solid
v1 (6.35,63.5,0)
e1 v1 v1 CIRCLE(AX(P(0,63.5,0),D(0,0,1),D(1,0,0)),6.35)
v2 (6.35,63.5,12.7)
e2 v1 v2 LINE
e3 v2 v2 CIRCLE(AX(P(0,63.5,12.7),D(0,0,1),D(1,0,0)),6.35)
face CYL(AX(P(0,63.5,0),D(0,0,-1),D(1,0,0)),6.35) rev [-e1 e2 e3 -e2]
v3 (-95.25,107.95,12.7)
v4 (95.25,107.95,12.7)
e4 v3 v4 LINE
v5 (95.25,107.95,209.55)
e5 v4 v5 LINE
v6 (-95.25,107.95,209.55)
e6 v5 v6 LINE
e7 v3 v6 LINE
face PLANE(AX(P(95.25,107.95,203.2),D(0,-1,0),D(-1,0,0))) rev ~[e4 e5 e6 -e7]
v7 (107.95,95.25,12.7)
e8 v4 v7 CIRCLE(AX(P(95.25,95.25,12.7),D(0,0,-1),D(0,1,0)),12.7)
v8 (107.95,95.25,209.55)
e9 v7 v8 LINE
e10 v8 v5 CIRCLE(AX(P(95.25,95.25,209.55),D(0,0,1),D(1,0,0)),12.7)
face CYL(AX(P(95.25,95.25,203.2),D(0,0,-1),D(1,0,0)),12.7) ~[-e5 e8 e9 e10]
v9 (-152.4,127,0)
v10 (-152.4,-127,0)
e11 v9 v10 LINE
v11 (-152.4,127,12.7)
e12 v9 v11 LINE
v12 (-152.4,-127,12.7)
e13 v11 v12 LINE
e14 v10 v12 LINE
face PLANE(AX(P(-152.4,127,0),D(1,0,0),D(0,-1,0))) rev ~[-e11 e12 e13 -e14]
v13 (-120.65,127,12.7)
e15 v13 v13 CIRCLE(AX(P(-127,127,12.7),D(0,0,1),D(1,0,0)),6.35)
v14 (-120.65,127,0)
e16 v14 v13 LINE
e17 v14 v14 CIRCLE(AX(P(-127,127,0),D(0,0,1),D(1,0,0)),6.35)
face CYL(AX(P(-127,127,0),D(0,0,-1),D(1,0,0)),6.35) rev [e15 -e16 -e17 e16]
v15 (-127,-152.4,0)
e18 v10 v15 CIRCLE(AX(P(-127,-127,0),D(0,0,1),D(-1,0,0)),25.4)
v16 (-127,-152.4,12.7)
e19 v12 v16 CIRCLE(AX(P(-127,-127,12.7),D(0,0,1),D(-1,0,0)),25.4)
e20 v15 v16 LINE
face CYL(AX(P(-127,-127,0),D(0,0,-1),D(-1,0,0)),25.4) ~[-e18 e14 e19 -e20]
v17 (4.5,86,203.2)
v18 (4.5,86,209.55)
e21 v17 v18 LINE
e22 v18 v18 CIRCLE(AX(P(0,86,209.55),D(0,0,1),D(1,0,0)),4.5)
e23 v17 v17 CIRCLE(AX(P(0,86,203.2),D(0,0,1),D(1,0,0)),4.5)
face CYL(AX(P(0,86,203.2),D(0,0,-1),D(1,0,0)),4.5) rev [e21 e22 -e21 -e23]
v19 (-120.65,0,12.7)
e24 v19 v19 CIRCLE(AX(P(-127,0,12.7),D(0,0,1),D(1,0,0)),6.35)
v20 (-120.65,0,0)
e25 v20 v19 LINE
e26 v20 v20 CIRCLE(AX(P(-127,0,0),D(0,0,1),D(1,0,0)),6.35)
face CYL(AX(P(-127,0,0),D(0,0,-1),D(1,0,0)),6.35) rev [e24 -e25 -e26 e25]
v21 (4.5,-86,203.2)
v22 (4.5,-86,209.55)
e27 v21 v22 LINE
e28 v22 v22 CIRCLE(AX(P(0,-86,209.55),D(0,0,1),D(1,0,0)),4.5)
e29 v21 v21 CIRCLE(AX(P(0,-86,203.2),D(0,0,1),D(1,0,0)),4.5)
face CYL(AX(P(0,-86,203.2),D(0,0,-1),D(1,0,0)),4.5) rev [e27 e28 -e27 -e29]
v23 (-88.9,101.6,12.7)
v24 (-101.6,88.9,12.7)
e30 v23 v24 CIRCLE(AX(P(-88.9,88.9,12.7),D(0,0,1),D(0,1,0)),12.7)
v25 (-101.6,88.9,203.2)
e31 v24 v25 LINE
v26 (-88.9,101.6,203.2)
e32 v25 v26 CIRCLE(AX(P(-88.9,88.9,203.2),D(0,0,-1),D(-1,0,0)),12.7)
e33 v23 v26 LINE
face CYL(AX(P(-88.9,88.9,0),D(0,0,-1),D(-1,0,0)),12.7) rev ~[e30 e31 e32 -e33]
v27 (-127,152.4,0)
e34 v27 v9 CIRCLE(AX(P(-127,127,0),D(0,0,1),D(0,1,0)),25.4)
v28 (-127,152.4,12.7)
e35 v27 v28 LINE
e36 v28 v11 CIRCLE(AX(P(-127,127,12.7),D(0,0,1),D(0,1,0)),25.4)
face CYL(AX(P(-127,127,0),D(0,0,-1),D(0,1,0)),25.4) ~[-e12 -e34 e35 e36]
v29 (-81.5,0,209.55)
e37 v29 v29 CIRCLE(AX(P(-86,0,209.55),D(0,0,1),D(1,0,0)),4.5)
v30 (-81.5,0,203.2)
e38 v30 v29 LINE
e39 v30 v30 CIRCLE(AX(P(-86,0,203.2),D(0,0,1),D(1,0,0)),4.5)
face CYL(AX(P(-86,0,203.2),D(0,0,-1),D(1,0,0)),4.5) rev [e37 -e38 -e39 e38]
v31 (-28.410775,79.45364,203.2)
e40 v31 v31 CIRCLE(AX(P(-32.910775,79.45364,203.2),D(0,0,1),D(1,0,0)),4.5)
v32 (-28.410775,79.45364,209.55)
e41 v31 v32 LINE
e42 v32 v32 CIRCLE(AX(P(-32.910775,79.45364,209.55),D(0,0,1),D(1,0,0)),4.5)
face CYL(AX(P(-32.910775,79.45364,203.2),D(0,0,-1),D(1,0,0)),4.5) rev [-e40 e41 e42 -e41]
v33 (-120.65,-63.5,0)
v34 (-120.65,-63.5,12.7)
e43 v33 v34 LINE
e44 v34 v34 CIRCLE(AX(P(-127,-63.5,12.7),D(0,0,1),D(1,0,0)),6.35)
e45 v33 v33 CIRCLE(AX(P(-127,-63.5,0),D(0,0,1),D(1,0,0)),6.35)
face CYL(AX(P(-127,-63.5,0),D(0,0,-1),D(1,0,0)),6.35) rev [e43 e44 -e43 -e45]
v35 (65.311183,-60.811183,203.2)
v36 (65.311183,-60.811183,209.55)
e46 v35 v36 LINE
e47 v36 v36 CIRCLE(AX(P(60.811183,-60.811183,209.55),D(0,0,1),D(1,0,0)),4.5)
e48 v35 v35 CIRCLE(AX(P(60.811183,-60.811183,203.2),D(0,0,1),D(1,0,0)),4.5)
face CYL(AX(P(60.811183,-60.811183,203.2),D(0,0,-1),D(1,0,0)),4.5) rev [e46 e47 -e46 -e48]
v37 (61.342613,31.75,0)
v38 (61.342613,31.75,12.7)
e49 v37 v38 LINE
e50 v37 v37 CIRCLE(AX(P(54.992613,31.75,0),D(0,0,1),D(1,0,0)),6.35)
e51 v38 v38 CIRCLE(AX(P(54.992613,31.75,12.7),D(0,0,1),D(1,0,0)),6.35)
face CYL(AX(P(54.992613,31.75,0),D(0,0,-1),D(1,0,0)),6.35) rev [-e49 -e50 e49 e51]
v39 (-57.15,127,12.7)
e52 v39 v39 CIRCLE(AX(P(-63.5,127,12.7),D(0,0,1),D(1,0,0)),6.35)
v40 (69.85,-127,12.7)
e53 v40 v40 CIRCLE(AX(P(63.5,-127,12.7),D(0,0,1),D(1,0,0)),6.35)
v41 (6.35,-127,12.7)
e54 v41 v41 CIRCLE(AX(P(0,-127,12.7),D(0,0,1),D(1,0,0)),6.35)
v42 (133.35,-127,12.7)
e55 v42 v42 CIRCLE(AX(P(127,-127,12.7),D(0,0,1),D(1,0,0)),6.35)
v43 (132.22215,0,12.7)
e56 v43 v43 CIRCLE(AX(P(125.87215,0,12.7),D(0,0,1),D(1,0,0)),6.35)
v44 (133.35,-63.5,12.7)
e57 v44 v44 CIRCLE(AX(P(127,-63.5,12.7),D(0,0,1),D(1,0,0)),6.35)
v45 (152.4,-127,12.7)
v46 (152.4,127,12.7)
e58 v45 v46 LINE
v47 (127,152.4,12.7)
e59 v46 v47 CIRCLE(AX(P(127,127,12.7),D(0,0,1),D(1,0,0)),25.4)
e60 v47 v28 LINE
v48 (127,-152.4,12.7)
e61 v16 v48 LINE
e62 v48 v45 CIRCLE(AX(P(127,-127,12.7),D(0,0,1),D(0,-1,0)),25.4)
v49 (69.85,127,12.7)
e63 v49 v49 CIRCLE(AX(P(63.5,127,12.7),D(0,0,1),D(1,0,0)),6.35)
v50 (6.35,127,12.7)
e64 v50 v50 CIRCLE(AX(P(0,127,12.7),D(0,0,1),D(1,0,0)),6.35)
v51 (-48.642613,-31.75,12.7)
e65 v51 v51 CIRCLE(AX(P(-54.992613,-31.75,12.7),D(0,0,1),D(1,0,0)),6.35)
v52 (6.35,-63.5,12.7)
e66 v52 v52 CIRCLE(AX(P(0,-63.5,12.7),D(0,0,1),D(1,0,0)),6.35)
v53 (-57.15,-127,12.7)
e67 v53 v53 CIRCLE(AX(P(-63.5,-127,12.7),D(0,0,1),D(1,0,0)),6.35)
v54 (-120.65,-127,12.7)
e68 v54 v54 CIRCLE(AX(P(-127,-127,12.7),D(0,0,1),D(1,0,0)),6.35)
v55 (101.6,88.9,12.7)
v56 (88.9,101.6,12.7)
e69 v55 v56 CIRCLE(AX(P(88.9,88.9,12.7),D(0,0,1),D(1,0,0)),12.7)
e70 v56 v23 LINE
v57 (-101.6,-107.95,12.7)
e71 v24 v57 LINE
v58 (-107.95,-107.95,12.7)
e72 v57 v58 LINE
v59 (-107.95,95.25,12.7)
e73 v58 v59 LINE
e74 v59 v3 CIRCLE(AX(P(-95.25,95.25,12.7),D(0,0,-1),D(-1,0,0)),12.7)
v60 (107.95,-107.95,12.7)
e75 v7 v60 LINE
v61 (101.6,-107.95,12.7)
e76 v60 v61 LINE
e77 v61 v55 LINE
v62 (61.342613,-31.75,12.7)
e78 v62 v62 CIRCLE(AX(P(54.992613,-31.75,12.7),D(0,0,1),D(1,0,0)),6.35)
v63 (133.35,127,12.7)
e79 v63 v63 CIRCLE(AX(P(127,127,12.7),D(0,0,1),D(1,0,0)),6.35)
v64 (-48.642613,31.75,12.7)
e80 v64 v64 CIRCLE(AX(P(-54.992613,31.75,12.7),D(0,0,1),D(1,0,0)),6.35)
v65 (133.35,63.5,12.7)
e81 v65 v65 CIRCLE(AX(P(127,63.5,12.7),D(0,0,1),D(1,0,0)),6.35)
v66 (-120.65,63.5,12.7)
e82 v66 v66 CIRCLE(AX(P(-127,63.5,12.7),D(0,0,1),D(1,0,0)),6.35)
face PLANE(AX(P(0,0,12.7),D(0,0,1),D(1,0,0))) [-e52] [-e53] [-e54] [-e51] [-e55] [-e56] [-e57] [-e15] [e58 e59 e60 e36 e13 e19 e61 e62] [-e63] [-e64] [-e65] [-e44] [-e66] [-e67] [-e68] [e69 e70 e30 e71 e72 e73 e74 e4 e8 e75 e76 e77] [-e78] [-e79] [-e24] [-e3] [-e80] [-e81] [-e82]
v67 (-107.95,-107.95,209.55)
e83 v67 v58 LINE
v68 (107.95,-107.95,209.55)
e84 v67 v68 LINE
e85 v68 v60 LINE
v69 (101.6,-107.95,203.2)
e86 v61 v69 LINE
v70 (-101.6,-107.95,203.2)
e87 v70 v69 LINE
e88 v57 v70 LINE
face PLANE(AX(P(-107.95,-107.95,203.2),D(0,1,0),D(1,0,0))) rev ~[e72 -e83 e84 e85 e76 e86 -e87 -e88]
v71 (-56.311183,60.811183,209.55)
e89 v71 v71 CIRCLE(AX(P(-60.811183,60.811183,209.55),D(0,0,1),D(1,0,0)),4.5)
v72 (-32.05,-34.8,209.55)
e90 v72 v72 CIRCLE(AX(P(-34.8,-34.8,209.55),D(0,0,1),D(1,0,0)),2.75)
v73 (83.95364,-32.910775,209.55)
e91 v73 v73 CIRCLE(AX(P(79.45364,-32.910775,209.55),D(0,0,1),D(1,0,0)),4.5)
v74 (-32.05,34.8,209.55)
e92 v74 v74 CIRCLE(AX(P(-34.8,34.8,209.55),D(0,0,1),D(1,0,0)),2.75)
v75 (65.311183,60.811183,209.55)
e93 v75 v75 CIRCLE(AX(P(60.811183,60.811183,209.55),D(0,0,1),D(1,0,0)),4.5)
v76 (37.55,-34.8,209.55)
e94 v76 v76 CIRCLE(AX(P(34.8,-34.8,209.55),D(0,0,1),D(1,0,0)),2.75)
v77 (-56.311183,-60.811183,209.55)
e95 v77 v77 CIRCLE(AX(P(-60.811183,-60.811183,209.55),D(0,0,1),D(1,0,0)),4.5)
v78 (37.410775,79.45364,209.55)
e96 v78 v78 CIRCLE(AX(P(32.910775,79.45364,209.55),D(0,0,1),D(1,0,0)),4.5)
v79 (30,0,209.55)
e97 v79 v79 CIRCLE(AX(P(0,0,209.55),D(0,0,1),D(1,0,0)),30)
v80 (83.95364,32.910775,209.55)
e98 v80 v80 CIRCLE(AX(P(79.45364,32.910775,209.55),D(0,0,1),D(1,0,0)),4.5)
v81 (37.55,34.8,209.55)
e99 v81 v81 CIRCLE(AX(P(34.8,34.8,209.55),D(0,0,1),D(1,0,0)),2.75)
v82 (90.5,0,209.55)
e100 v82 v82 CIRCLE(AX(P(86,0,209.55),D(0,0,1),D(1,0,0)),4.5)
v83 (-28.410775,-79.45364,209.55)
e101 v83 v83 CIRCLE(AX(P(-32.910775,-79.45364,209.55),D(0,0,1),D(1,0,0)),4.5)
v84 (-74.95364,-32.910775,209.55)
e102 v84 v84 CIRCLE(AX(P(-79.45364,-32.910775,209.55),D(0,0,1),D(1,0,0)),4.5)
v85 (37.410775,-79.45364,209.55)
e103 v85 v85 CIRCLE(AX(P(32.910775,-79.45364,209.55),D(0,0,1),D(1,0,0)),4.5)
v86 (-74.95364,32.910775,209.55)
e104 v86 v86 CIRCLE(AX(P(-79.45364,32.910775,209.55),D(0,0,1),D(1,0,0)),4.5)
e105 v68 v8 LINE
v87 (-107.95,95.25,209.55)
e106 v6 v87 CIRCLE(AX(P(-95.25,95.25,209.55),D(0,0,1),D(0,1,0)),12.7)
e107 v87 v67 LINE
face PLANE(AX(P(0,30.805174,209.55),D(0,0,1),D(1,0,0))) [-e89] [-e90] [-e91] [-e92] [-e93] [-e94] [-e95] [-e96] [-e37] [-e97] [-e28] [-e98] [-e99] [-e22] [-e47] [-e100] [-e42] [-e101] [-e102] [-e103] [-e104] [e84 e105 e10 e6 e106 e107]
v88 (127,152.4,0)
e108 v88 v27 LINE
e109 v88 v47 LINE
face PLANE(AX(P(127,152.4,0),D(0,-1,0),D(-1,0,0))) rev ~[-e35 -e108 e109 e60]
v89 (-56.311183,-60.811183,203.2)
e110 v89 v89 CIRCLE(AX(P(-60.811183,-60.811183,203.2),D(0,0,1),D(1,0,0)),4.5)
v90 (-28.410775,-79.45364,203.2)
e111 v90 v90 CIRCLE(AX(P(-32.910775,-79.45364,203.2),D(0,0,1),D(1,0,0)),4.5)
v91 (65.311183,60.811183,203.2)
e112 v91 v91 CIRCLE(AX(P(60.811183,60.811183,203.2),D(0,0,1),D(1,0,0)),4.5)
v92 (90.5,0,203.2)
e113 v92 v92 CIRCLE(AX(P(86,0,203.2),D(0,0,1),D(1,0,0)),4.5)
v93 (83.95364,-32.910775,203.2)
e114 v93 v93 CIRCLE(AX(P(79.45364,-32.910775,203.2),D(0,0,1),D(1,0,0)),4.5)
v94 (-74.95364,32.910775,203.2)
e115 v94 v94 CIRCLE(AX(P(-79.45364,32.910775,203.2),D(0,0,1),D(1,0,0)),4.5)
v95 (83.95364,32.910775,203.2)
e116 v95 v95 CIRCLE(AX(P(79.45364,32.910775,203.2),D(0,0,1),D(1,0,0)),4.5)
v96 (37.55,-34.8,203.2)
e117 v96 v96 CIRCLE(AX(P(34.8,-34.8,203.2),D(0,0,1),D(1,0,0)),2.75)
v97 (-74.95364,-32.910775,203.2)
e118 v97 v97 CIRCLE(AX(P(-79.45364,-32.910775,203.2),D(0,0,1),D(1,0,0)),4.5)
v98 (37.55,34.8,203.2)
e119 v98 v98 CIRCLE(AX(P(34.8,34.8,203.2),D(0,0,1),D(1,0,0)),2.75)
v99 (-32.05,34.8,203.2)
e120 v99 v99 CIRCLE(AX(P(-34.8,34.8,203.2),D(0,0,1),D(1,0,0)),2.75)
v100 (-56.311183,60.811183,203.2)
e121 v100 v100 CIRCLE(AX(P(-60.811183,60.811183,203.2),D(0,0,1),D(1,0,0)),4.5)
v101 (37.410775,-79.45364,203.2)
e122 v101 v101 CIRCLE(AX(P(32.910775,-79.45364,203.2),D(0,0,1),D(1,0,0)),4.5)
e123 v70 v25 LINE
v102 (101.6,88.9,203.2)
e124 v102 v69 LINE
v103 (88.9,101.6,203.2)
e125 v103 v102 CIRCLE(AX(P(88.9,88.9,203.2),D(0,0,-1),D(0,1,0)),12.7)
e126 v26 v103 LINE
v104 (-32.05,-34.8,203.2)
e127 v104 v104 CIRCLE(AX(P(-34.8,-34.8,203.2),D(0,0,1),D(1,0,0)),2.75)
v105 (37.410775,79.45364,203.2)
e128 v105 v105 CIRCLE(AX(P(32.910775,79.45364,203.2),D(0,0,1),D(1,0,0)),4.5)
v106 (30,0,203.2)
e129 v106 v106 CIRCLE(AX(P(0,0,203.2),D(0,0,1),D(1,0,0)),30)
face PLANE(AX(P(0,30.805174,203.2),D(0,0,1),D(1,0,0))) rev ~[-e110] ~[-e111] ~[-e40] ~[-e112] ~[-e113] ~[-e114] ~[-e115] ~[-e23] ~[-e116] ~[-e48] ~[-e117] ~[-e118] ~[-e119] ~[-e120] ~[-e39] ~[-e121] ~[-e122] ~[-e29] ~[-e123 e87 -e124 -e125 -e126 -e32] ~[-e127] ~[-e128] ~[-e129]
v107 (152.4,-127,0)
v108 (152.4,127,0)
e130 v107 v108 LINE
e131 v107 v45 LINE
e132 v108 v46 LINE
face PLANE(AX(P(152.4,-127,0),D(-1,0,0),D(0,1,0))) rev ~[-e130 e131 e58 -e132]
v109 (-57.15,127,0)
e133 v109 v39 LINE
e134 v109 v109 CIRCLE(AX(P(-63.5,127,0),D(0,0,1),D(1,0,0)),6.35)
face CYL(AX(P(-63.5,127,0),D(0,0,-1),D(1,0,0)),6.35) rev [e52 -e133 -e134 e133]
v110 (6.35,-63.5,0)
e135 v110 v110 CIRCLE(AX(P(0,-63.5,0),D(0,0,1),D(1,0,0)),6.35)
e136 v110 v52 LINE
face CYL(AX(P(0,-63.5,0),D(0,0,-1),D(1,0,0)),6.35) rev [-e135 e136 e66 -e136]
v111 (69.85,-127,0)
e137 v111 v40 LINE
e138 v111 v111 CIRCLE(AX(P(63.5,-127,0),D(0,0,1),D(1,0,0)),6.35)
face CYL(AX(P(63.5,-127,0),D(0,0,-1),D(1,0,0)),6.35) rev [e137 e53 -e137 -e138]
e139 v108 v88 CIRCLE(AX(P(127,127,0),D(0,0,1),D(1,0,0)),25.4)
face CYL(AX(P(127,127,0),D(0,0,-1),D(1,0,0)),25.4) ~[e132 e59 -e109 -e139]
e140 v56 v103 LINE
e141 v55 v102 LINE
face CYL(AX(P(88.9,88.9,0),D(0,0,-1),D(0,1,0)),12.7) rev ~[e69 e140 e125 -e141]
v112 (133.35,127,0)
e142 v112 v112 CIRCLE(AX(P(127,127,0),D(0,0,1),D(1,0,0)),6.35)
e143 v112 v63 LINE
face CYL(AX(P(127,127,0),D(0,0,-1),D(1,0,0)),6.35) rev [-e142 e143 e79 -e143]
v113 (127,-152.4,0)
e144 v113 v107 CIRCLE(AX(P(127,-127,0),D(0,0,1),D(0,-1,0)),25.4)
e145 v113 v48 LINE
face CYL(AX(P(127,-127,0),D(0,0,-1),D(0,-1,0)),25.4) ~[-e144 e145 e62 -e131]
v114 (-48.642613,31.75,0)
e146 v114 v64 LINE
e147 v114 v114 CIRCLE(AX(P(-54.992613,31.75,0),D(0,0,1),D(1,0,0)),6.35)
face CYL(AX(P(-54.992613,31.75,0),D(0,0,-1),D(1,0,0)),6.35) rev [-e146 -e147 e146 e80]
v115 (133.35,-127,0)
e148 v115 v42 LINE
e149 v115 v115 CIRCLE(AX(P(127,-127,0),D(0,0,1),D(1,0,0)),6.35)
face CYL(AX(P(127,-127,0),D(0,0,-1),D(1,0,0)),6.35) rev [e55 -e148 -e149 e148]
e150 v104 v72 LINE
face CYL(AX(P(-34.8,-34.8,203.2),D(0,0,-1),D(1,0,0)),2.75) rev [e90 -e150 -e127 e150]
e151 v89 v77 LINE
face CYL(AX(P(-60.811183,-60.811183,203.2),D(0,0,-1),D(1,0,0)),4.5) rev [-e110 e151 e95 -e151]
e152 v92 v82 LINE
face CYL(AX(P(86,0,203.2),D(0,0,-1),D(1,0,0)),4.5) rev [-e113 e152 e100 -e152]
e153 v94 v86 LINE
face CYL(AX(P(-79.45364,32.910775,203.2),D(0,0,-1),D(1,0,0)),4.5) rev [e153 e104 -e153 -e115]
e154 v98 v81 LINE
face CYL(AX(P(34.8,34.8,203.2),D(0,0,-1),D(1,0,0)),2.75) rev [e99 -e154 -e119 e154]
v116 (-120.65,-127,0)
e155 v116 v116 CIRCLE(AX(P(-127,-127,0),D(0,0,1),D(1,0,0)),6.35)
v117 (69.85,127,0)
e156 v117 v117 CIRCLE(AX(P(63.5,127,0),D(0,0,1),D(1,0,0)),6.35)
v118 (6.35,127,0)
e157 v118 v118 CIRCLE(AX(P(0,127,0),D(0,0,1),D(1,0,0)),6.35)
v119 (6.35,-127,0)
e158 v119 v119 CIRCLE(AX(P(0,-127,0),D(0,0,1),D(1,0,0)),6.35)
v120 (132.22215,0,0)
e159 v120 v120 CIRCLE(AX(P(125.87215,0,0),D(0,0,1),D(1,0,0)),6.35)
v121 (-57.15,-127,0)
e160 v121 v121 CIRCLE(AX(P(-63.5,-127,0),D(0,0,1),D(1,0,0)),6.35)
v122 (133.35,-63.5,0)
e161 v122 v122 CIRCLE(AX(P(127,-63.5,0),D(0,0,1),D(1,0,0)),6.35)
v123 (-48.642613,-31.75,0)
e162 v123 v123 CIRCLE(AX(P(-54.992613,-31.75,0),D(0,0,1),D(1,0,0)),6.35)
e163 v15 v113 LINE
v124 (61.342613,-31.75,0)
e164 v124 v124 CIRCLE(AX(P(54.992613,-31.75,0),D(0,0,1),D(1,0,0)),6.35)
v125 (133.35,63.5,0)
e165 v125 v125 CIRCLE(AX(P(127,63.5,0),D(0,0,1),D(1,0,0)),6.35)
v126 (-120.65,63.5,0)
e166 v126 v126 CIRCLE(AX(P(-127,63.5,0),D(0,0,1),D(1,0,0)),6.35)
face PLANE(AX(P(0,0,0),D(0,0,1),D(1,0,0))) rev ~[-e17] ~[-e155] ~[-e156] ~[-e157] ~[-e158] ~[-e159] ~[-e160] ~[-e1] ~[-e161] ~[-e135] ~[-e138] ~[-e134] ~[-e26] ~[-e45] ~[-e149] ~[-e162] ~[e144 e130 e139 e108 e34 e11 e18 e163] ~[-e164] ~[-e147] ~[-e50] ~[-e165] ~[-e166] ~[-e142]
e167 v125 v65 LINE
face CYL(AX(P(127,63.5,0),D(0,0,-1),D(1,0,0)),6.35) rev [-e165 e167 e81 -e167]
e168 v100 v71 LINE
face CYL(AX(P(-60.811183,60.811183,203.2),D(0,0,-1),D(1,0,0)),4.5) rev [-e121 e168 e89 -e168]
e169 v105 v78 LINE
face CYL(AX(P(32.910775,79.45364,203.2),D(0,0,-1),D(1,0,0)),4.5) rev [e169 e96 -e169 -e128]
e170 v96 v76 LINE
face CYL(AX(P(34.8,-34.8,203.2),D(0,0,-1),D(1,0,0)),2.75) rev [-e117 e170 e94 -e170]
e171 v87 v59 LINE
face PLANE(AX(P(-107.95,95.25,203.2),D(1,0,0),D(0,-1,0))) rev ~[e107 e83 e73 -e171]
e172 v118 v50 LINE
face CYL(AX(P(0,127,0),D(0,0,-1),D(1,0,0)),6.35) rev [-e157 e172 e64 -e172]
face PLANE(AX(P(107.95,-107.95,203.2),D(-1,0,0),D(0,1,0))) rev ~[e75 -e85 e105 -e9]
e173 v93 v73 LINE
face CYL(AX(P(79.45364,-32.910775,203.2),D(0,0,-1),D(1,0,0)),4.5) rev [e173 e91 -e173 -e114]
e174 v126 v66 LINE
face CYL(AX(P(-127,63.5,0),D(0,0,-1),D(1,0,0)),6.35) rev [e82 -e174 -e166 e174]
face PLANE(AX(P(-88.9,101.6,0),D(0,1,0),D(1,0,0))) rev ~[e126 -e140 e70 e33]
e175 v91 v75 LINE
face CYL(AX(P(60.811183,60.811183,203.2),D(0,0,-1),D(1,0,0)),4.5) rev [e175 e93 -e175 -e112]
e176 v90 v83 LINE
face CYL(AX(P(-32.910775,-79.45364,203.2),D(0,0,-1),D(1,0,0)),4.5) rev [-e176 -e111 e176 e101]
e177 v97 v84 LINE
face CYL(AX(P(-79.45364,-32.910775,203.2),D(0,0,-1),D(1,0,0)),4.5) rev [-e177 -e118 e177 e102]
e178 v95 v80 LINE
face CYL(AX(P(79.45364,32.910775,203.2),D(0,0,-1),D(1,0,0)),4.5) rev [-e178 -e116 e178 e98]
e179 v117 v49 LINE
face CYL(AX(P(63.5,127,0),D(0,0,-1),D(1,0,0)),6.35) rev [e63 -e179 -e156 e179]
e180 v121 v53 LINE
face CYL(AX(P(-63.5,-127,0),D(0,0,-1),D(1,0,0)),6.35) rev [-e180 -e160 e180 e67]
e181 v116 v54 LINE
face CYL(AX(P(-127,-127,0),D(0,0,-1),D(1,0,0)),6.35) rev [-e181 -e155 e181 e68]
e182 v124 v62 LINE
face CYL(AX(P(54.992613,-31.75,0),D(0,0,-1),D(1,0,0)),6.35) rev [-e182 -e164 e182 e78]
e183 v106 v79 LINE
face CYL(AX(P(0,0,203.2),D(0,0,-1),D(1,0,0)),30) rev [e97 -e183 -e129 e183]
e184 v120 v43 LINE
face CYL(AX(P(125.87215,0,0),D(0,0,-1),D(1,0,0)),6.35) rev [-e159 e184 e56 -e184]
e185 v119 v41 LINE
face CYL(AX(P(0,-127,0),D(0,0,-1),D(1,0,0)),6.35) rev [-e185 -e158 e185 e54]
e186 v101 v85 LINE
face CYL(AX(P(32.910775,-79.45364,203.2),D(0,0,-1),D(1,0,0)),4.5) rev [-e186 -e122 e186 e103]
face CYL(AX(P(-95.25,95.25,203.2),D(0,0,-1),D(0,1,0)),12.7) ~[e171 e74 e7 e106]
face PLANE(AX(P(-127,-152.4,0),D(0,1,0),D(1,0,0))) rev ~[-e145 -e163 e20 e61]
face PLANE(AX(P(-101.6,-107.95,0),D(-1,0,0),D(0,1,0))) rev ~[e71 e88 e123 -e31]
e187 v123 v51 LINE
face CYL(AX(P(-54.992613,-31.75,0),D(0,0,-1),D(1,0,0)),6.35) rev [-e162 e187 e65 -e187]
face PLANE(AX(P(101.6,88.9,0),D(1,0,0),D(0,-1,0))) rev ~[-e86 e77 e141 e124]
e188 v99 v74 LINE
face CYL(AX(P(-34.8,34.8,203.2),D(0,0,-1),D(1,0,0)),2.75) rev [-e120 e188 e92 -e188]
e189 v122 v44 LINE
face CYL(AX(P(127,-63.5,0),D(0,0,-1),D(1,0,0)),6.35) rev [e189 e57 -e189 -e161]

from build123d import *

# Parameters (mm, degrees)
F0_R     = 6.35
F1_DEPTH = 12.7
F2_DEPTH = 203.2
F3_R     = 95
F3_R_2   = 4.5
F3_R_3   = 2.75
F3_R_4   = 30
F4_DEPTH = 6.35


with BuildPart() as f1:
    # F0 (on Top) → F1 (new body)
    with BuildSketch(Plane.XY):
        with BuildLine():
            Line((-127, -152.4), (127, -152.4))
            ThreePointArc((127, -152.4), (144.9605122421, -144.9605122421), (152.4, -127))
            Line((152.4, -127), (152.4, 127))
            ThreePointArc((152.4, 127), (144.9605122421, 144.9605122421), (127, 152.4))
            Line((127, 152.4), (-127, 152.4))
            ThreePointArc((-127, 152.4), (-144.9605122421, 144.9605122421), (-152.4, 127))
            Line((-152.4, 127), (-152.4, -127))
            ThreePointArc((-152.4, -127), (-144.9605122421, -144.9605122421), (-127, -152.4))
        make_face()
        with Locations((-127, -127)):
            Circle(F0_R, mode=Mode.SUBTRACT)
        with Locations((-63.5, -127)):
            Circle(F0_R, mode=Mode.SUBTRACT)
        with Locations((-127, -63.5)):
            Circle(F0_R, mode=Mode.SUBTRACT)
        with Locations((0, -127)):
            Circle(F0_R, mode=Mode.SUBTRACT)
        with Locations((63.5, -127)):
            Circle(F0_R, mode=Mode.SUBTRACT)
        with Locations((127, -127)):
            Circle(F0_R, mode=Mode.SUBTRACT)
        with Locations((127, -63.5)):
            Circle(F0_R, mode=Mode.SUBTRACT)
        with Locations((-127, 0)):
            Circle(F0_R, mode=Mode.SUBTRACT)
        with Locations((-127, 63.5)):
            Circle(F0_R, mode=Mode.SUBTRACT)
        with Locations((-127, 127)):
            Circle(F0_R, mode=Mode.SUBTRACT)
        with Locations((-63.5, 127)):
            Circle(F0_R, mode=Mode.SUBTRACT)
        with BuildLine():
            Line((107.95, 95.25), (107.95, -107.95))
            Line((107.95, -107.95), (101.6, -107.95))
            Line((101.6, -107.95), (-101.6, -107.95))
            Line((-101.6, -107.95), (-107.95, -107.95))
            Line((-107.95, -107.95), (-107.95, 95.25))
            ThreePointArc((-107.95, 95.25), (-104.2302561211, 104.2302561211), (-95.25, 107.95))
            Line((-95.25, 107.95), (95.25, 107.95))
            ThreePointArc((95.25, 107.95), (104.2302561211, 104.2302561211), (107.95, 95.25))
        make_face(mode=Mode.SUBTRACT)
        with Locations((125.8721500635, 0)):
            Circle(F0_R, mode=Mode.SUBTRACT)
        with Locations((127, 63.5)):
            Circle(F0_R, mode=Mode.SUBTRACT)
        with Locations((0, 127)):
            Circle(F0_R, mode=Mode.SUBTRACT)
        with Locations((63.5, 127)):
            Circle(F0_R, mode=Mode.SUBTRACT)
        with Locations((127, 127)):
            Circle(F0_R, mode=Mode.SUBTRACT)
        with BuildLine():
            Line((-101.6, -107.95), (101.6, -107.95))
            Line((101.6, -107.95), (101.6, 88.9))
            ThreePointArc((101.6, 88.9), (97.8802561211, 97.8802561211), (88.9, 101.6))
            Line((88.9, 101.6), (-88.9, 101.6))
            ThreePointArc((-88.9, 101.6), (-97.8802561211, 97.8802561211), (-101.6, 88.9))
            Line((-101.6, 88.9), (-101.6, -107.95))
        make_face()
        with Locations((-54.9926131403, -31.75)):
            Circle(F0_R, mode=Mode.SUBTRACT)
        with Locations((0, -63.5)):
            Circle(F0_R, mode=Mode.SUBTRACT)
        with Locations((54.9926131403, -31.75)):
            Circle(F0_R, mode=Mode.SUBTRACT)
        with Locations((-54.9926131403, 31.75)):
            Circle(F0_R, mode=Mode.SUBTRACT)
        with Locations((54.9926131403, 31.75)):
            Circle(F0_R, mode=Mode.SUBTRACT)
        with Locations((0, 63.5)):
            Circle(F0_R, mode=Mode.SUBTRACT)
    extrude(amount=F1_DEPTH)

    # F0 (on Top) → F2 (join)
    with BuildSketch(Plane.XY):
        with BuildLine():
            Line((101.6, -107.95), (107.95, -107.95))
            Line((107.95, -107.95), (107.95, 95.25))
            ThreePointArc((107.95, 95.25), (104.2302561211, 104.2302561211), (95.25, 107.95))
            Line((95.25, 107.95), (-95.25, 107.95))
            ThreePointArc((-95.25, 107.95), (-104.2302561211, 104.2302561211), (-107.95, 95.25))
            Line((-107.95, 95.25), (-107.95, -107.95))
            Line((-107.95, -107.95), (-101.6, -107.95))
            Line((-101.6, -107.95), (-101.6, 88.9))
            ThreePointArc((-101.6, 88.9), (-97.8802561211, 97.8802561211), (-88.9, 101.6))
            Line((-88.9, 101.6), (88.9, 101.6))
            ThreePointArc((88.9, 101.6), (97.8802561211, 97.8802561211), (101.6, 88.9))
            Line((101.6, 88.9), (101.6, -107.95))
        make_face()
    extrude(amount=F2_DEPTH)

    # F3 (on face) → F4 (join)
    with BuildSketch(Plane.XY.offset(203.2)):
        with BuildLine():
            Line((101.6, -107.95), (107.95, -107.95))
            Line((107.95, -107.95), (107.95, 95.25))
            ThreePointArc((107.95, 95.25), (104.2302561211, 104.2302561211), (95.25, 107.95))
            Line((95.25, 107.95), (-95.25, 107.95))
            ThreePointArc((-95.25, 107.95), (-104.2302561211, 104.2302561211), (-107.95, 95.25))
            Line((-107.95, 95.25), (-107.95, -107.95))
            Line((-107.95, -107.95), (-101.6, -107.95))
            Line((-101.6, -107.95), (-101.6, 88.9))
            ThreePointArc((-101.6, 88.9), (-97.8802561211, 97.8802561211), (-88.9, 101.6))
            Line((-88.9, 101.6), (88.9, 101.6))
            ThreePointArc((88.9, 101.6), (97.8802561211, 97.8802561211), (101.6, 88.9))
            Line((101.6, 88.9), (101.6, -107.95))
        make_face()
        with BuildLine():
            Line((-101.6, -107.95), (101.6, -107.95))
            Line((101.6, -107.95), (101.6, 88.9))
            ThreePointArc((101.6, 88.9), (97.8802561211, 97.8802561211), (88.9, 101.6))
            Line((88.9, 101.6), (-88.9, 101.6))
            ThreePointArc((-88.9, 101.6), (-97.8802561211, 97.8802561211), (-101.6, 88.9))
            Line((-101.6, 88.9), (-101.6, -107.95))
        make_face()
        Circle(F3_R, mode=Mode.SUBTRACT)
        Circle(F3_R)
        with Locations((-60.811183182, -60.811183182)):
            Circle(F3_R_2, mode=Mode.SUBTRACT)
        with Locations((0, -86)):
            Circle(F3_R_2, mode=Mode.SUBTRACT)
        with Locations((-32.9107751834, -79.453639796)):
            Circle(F3_R_2, mode=Mode.SUBTRACT)
        with Locations((-79.453639796, -32.9107751834)):
            Circle(F3_R_2, mode=Mode.SUBTRACT)
        with Locations((-34.8, -34.8)):
            Circle(F3_R_3, mode=Mode.SUBTRACT)
        with Locations((32.9107751834, -79.453639796)):
            Circle(F3_R_2, mode=Mode.SUBTRACT)
        with Locations((60.811183182, -60.811183182)):
            Circle(F3_R_2, mode=Mode.SUBTRACT)
        with Locations((34.8, -34.8)):
            Circle(F3_R_3, mode=Mode.SUBTRACT)
        with Locations((79.453639796, -32.9107751834)):
            Circle(F3_R_2, mode=Mode.SUBTRACT)
        with Locations((-86, 0)):
            Circle(F3_R_2, mode=Mode.SUBTRACT)
        with Locations((-79.453639796, 32.9107751834)):
            Circle(F3_R_2, mode=Mode.SUBTRACT)
        Circle(F3_R_4, mode=Mode.SUBTRACT)
        with Locations((-34.8, 34.8)):
            Circle(F3_R_3, mode=Mode.SUBTRACT)
        with Locations((-60.811183182, 60.811183182)):
            Circle(F3_R_2, mode=Mode.SUBTRACT)
        with Locations((-32.9107751834, 79.453639796)):
            Circle(F3_R_2, mode=Mode.SUBTRACT)
        with Locations((0, 86)):
            Circle(F3_R_2, mode=Mode.SUBTRACT)
        with Locations((34.8, 34.8)):
            Circle(F3_R_3, mode=Mode.SUBTRACT)
        with Locations((86, 0)):
            Circle(F3_R_2, mode=Mode.SUBTRACT)
        with Locations((79.453639796, 32.9107751834)):
            Circle(F3_R_2, mode=Mode.SUBTRACT)
        with Locations((32.9107751834, 79.453639796)):
            Circle(F3_R_2, mode=Mode.SUBTRACT)
        with Locations((60.811183182, 60.811183182)):
            Circle(F3_R_2, mode=Mode.SUBTRACT)
    extrude(amount=F4_DEPTH)


solid = f1.part
